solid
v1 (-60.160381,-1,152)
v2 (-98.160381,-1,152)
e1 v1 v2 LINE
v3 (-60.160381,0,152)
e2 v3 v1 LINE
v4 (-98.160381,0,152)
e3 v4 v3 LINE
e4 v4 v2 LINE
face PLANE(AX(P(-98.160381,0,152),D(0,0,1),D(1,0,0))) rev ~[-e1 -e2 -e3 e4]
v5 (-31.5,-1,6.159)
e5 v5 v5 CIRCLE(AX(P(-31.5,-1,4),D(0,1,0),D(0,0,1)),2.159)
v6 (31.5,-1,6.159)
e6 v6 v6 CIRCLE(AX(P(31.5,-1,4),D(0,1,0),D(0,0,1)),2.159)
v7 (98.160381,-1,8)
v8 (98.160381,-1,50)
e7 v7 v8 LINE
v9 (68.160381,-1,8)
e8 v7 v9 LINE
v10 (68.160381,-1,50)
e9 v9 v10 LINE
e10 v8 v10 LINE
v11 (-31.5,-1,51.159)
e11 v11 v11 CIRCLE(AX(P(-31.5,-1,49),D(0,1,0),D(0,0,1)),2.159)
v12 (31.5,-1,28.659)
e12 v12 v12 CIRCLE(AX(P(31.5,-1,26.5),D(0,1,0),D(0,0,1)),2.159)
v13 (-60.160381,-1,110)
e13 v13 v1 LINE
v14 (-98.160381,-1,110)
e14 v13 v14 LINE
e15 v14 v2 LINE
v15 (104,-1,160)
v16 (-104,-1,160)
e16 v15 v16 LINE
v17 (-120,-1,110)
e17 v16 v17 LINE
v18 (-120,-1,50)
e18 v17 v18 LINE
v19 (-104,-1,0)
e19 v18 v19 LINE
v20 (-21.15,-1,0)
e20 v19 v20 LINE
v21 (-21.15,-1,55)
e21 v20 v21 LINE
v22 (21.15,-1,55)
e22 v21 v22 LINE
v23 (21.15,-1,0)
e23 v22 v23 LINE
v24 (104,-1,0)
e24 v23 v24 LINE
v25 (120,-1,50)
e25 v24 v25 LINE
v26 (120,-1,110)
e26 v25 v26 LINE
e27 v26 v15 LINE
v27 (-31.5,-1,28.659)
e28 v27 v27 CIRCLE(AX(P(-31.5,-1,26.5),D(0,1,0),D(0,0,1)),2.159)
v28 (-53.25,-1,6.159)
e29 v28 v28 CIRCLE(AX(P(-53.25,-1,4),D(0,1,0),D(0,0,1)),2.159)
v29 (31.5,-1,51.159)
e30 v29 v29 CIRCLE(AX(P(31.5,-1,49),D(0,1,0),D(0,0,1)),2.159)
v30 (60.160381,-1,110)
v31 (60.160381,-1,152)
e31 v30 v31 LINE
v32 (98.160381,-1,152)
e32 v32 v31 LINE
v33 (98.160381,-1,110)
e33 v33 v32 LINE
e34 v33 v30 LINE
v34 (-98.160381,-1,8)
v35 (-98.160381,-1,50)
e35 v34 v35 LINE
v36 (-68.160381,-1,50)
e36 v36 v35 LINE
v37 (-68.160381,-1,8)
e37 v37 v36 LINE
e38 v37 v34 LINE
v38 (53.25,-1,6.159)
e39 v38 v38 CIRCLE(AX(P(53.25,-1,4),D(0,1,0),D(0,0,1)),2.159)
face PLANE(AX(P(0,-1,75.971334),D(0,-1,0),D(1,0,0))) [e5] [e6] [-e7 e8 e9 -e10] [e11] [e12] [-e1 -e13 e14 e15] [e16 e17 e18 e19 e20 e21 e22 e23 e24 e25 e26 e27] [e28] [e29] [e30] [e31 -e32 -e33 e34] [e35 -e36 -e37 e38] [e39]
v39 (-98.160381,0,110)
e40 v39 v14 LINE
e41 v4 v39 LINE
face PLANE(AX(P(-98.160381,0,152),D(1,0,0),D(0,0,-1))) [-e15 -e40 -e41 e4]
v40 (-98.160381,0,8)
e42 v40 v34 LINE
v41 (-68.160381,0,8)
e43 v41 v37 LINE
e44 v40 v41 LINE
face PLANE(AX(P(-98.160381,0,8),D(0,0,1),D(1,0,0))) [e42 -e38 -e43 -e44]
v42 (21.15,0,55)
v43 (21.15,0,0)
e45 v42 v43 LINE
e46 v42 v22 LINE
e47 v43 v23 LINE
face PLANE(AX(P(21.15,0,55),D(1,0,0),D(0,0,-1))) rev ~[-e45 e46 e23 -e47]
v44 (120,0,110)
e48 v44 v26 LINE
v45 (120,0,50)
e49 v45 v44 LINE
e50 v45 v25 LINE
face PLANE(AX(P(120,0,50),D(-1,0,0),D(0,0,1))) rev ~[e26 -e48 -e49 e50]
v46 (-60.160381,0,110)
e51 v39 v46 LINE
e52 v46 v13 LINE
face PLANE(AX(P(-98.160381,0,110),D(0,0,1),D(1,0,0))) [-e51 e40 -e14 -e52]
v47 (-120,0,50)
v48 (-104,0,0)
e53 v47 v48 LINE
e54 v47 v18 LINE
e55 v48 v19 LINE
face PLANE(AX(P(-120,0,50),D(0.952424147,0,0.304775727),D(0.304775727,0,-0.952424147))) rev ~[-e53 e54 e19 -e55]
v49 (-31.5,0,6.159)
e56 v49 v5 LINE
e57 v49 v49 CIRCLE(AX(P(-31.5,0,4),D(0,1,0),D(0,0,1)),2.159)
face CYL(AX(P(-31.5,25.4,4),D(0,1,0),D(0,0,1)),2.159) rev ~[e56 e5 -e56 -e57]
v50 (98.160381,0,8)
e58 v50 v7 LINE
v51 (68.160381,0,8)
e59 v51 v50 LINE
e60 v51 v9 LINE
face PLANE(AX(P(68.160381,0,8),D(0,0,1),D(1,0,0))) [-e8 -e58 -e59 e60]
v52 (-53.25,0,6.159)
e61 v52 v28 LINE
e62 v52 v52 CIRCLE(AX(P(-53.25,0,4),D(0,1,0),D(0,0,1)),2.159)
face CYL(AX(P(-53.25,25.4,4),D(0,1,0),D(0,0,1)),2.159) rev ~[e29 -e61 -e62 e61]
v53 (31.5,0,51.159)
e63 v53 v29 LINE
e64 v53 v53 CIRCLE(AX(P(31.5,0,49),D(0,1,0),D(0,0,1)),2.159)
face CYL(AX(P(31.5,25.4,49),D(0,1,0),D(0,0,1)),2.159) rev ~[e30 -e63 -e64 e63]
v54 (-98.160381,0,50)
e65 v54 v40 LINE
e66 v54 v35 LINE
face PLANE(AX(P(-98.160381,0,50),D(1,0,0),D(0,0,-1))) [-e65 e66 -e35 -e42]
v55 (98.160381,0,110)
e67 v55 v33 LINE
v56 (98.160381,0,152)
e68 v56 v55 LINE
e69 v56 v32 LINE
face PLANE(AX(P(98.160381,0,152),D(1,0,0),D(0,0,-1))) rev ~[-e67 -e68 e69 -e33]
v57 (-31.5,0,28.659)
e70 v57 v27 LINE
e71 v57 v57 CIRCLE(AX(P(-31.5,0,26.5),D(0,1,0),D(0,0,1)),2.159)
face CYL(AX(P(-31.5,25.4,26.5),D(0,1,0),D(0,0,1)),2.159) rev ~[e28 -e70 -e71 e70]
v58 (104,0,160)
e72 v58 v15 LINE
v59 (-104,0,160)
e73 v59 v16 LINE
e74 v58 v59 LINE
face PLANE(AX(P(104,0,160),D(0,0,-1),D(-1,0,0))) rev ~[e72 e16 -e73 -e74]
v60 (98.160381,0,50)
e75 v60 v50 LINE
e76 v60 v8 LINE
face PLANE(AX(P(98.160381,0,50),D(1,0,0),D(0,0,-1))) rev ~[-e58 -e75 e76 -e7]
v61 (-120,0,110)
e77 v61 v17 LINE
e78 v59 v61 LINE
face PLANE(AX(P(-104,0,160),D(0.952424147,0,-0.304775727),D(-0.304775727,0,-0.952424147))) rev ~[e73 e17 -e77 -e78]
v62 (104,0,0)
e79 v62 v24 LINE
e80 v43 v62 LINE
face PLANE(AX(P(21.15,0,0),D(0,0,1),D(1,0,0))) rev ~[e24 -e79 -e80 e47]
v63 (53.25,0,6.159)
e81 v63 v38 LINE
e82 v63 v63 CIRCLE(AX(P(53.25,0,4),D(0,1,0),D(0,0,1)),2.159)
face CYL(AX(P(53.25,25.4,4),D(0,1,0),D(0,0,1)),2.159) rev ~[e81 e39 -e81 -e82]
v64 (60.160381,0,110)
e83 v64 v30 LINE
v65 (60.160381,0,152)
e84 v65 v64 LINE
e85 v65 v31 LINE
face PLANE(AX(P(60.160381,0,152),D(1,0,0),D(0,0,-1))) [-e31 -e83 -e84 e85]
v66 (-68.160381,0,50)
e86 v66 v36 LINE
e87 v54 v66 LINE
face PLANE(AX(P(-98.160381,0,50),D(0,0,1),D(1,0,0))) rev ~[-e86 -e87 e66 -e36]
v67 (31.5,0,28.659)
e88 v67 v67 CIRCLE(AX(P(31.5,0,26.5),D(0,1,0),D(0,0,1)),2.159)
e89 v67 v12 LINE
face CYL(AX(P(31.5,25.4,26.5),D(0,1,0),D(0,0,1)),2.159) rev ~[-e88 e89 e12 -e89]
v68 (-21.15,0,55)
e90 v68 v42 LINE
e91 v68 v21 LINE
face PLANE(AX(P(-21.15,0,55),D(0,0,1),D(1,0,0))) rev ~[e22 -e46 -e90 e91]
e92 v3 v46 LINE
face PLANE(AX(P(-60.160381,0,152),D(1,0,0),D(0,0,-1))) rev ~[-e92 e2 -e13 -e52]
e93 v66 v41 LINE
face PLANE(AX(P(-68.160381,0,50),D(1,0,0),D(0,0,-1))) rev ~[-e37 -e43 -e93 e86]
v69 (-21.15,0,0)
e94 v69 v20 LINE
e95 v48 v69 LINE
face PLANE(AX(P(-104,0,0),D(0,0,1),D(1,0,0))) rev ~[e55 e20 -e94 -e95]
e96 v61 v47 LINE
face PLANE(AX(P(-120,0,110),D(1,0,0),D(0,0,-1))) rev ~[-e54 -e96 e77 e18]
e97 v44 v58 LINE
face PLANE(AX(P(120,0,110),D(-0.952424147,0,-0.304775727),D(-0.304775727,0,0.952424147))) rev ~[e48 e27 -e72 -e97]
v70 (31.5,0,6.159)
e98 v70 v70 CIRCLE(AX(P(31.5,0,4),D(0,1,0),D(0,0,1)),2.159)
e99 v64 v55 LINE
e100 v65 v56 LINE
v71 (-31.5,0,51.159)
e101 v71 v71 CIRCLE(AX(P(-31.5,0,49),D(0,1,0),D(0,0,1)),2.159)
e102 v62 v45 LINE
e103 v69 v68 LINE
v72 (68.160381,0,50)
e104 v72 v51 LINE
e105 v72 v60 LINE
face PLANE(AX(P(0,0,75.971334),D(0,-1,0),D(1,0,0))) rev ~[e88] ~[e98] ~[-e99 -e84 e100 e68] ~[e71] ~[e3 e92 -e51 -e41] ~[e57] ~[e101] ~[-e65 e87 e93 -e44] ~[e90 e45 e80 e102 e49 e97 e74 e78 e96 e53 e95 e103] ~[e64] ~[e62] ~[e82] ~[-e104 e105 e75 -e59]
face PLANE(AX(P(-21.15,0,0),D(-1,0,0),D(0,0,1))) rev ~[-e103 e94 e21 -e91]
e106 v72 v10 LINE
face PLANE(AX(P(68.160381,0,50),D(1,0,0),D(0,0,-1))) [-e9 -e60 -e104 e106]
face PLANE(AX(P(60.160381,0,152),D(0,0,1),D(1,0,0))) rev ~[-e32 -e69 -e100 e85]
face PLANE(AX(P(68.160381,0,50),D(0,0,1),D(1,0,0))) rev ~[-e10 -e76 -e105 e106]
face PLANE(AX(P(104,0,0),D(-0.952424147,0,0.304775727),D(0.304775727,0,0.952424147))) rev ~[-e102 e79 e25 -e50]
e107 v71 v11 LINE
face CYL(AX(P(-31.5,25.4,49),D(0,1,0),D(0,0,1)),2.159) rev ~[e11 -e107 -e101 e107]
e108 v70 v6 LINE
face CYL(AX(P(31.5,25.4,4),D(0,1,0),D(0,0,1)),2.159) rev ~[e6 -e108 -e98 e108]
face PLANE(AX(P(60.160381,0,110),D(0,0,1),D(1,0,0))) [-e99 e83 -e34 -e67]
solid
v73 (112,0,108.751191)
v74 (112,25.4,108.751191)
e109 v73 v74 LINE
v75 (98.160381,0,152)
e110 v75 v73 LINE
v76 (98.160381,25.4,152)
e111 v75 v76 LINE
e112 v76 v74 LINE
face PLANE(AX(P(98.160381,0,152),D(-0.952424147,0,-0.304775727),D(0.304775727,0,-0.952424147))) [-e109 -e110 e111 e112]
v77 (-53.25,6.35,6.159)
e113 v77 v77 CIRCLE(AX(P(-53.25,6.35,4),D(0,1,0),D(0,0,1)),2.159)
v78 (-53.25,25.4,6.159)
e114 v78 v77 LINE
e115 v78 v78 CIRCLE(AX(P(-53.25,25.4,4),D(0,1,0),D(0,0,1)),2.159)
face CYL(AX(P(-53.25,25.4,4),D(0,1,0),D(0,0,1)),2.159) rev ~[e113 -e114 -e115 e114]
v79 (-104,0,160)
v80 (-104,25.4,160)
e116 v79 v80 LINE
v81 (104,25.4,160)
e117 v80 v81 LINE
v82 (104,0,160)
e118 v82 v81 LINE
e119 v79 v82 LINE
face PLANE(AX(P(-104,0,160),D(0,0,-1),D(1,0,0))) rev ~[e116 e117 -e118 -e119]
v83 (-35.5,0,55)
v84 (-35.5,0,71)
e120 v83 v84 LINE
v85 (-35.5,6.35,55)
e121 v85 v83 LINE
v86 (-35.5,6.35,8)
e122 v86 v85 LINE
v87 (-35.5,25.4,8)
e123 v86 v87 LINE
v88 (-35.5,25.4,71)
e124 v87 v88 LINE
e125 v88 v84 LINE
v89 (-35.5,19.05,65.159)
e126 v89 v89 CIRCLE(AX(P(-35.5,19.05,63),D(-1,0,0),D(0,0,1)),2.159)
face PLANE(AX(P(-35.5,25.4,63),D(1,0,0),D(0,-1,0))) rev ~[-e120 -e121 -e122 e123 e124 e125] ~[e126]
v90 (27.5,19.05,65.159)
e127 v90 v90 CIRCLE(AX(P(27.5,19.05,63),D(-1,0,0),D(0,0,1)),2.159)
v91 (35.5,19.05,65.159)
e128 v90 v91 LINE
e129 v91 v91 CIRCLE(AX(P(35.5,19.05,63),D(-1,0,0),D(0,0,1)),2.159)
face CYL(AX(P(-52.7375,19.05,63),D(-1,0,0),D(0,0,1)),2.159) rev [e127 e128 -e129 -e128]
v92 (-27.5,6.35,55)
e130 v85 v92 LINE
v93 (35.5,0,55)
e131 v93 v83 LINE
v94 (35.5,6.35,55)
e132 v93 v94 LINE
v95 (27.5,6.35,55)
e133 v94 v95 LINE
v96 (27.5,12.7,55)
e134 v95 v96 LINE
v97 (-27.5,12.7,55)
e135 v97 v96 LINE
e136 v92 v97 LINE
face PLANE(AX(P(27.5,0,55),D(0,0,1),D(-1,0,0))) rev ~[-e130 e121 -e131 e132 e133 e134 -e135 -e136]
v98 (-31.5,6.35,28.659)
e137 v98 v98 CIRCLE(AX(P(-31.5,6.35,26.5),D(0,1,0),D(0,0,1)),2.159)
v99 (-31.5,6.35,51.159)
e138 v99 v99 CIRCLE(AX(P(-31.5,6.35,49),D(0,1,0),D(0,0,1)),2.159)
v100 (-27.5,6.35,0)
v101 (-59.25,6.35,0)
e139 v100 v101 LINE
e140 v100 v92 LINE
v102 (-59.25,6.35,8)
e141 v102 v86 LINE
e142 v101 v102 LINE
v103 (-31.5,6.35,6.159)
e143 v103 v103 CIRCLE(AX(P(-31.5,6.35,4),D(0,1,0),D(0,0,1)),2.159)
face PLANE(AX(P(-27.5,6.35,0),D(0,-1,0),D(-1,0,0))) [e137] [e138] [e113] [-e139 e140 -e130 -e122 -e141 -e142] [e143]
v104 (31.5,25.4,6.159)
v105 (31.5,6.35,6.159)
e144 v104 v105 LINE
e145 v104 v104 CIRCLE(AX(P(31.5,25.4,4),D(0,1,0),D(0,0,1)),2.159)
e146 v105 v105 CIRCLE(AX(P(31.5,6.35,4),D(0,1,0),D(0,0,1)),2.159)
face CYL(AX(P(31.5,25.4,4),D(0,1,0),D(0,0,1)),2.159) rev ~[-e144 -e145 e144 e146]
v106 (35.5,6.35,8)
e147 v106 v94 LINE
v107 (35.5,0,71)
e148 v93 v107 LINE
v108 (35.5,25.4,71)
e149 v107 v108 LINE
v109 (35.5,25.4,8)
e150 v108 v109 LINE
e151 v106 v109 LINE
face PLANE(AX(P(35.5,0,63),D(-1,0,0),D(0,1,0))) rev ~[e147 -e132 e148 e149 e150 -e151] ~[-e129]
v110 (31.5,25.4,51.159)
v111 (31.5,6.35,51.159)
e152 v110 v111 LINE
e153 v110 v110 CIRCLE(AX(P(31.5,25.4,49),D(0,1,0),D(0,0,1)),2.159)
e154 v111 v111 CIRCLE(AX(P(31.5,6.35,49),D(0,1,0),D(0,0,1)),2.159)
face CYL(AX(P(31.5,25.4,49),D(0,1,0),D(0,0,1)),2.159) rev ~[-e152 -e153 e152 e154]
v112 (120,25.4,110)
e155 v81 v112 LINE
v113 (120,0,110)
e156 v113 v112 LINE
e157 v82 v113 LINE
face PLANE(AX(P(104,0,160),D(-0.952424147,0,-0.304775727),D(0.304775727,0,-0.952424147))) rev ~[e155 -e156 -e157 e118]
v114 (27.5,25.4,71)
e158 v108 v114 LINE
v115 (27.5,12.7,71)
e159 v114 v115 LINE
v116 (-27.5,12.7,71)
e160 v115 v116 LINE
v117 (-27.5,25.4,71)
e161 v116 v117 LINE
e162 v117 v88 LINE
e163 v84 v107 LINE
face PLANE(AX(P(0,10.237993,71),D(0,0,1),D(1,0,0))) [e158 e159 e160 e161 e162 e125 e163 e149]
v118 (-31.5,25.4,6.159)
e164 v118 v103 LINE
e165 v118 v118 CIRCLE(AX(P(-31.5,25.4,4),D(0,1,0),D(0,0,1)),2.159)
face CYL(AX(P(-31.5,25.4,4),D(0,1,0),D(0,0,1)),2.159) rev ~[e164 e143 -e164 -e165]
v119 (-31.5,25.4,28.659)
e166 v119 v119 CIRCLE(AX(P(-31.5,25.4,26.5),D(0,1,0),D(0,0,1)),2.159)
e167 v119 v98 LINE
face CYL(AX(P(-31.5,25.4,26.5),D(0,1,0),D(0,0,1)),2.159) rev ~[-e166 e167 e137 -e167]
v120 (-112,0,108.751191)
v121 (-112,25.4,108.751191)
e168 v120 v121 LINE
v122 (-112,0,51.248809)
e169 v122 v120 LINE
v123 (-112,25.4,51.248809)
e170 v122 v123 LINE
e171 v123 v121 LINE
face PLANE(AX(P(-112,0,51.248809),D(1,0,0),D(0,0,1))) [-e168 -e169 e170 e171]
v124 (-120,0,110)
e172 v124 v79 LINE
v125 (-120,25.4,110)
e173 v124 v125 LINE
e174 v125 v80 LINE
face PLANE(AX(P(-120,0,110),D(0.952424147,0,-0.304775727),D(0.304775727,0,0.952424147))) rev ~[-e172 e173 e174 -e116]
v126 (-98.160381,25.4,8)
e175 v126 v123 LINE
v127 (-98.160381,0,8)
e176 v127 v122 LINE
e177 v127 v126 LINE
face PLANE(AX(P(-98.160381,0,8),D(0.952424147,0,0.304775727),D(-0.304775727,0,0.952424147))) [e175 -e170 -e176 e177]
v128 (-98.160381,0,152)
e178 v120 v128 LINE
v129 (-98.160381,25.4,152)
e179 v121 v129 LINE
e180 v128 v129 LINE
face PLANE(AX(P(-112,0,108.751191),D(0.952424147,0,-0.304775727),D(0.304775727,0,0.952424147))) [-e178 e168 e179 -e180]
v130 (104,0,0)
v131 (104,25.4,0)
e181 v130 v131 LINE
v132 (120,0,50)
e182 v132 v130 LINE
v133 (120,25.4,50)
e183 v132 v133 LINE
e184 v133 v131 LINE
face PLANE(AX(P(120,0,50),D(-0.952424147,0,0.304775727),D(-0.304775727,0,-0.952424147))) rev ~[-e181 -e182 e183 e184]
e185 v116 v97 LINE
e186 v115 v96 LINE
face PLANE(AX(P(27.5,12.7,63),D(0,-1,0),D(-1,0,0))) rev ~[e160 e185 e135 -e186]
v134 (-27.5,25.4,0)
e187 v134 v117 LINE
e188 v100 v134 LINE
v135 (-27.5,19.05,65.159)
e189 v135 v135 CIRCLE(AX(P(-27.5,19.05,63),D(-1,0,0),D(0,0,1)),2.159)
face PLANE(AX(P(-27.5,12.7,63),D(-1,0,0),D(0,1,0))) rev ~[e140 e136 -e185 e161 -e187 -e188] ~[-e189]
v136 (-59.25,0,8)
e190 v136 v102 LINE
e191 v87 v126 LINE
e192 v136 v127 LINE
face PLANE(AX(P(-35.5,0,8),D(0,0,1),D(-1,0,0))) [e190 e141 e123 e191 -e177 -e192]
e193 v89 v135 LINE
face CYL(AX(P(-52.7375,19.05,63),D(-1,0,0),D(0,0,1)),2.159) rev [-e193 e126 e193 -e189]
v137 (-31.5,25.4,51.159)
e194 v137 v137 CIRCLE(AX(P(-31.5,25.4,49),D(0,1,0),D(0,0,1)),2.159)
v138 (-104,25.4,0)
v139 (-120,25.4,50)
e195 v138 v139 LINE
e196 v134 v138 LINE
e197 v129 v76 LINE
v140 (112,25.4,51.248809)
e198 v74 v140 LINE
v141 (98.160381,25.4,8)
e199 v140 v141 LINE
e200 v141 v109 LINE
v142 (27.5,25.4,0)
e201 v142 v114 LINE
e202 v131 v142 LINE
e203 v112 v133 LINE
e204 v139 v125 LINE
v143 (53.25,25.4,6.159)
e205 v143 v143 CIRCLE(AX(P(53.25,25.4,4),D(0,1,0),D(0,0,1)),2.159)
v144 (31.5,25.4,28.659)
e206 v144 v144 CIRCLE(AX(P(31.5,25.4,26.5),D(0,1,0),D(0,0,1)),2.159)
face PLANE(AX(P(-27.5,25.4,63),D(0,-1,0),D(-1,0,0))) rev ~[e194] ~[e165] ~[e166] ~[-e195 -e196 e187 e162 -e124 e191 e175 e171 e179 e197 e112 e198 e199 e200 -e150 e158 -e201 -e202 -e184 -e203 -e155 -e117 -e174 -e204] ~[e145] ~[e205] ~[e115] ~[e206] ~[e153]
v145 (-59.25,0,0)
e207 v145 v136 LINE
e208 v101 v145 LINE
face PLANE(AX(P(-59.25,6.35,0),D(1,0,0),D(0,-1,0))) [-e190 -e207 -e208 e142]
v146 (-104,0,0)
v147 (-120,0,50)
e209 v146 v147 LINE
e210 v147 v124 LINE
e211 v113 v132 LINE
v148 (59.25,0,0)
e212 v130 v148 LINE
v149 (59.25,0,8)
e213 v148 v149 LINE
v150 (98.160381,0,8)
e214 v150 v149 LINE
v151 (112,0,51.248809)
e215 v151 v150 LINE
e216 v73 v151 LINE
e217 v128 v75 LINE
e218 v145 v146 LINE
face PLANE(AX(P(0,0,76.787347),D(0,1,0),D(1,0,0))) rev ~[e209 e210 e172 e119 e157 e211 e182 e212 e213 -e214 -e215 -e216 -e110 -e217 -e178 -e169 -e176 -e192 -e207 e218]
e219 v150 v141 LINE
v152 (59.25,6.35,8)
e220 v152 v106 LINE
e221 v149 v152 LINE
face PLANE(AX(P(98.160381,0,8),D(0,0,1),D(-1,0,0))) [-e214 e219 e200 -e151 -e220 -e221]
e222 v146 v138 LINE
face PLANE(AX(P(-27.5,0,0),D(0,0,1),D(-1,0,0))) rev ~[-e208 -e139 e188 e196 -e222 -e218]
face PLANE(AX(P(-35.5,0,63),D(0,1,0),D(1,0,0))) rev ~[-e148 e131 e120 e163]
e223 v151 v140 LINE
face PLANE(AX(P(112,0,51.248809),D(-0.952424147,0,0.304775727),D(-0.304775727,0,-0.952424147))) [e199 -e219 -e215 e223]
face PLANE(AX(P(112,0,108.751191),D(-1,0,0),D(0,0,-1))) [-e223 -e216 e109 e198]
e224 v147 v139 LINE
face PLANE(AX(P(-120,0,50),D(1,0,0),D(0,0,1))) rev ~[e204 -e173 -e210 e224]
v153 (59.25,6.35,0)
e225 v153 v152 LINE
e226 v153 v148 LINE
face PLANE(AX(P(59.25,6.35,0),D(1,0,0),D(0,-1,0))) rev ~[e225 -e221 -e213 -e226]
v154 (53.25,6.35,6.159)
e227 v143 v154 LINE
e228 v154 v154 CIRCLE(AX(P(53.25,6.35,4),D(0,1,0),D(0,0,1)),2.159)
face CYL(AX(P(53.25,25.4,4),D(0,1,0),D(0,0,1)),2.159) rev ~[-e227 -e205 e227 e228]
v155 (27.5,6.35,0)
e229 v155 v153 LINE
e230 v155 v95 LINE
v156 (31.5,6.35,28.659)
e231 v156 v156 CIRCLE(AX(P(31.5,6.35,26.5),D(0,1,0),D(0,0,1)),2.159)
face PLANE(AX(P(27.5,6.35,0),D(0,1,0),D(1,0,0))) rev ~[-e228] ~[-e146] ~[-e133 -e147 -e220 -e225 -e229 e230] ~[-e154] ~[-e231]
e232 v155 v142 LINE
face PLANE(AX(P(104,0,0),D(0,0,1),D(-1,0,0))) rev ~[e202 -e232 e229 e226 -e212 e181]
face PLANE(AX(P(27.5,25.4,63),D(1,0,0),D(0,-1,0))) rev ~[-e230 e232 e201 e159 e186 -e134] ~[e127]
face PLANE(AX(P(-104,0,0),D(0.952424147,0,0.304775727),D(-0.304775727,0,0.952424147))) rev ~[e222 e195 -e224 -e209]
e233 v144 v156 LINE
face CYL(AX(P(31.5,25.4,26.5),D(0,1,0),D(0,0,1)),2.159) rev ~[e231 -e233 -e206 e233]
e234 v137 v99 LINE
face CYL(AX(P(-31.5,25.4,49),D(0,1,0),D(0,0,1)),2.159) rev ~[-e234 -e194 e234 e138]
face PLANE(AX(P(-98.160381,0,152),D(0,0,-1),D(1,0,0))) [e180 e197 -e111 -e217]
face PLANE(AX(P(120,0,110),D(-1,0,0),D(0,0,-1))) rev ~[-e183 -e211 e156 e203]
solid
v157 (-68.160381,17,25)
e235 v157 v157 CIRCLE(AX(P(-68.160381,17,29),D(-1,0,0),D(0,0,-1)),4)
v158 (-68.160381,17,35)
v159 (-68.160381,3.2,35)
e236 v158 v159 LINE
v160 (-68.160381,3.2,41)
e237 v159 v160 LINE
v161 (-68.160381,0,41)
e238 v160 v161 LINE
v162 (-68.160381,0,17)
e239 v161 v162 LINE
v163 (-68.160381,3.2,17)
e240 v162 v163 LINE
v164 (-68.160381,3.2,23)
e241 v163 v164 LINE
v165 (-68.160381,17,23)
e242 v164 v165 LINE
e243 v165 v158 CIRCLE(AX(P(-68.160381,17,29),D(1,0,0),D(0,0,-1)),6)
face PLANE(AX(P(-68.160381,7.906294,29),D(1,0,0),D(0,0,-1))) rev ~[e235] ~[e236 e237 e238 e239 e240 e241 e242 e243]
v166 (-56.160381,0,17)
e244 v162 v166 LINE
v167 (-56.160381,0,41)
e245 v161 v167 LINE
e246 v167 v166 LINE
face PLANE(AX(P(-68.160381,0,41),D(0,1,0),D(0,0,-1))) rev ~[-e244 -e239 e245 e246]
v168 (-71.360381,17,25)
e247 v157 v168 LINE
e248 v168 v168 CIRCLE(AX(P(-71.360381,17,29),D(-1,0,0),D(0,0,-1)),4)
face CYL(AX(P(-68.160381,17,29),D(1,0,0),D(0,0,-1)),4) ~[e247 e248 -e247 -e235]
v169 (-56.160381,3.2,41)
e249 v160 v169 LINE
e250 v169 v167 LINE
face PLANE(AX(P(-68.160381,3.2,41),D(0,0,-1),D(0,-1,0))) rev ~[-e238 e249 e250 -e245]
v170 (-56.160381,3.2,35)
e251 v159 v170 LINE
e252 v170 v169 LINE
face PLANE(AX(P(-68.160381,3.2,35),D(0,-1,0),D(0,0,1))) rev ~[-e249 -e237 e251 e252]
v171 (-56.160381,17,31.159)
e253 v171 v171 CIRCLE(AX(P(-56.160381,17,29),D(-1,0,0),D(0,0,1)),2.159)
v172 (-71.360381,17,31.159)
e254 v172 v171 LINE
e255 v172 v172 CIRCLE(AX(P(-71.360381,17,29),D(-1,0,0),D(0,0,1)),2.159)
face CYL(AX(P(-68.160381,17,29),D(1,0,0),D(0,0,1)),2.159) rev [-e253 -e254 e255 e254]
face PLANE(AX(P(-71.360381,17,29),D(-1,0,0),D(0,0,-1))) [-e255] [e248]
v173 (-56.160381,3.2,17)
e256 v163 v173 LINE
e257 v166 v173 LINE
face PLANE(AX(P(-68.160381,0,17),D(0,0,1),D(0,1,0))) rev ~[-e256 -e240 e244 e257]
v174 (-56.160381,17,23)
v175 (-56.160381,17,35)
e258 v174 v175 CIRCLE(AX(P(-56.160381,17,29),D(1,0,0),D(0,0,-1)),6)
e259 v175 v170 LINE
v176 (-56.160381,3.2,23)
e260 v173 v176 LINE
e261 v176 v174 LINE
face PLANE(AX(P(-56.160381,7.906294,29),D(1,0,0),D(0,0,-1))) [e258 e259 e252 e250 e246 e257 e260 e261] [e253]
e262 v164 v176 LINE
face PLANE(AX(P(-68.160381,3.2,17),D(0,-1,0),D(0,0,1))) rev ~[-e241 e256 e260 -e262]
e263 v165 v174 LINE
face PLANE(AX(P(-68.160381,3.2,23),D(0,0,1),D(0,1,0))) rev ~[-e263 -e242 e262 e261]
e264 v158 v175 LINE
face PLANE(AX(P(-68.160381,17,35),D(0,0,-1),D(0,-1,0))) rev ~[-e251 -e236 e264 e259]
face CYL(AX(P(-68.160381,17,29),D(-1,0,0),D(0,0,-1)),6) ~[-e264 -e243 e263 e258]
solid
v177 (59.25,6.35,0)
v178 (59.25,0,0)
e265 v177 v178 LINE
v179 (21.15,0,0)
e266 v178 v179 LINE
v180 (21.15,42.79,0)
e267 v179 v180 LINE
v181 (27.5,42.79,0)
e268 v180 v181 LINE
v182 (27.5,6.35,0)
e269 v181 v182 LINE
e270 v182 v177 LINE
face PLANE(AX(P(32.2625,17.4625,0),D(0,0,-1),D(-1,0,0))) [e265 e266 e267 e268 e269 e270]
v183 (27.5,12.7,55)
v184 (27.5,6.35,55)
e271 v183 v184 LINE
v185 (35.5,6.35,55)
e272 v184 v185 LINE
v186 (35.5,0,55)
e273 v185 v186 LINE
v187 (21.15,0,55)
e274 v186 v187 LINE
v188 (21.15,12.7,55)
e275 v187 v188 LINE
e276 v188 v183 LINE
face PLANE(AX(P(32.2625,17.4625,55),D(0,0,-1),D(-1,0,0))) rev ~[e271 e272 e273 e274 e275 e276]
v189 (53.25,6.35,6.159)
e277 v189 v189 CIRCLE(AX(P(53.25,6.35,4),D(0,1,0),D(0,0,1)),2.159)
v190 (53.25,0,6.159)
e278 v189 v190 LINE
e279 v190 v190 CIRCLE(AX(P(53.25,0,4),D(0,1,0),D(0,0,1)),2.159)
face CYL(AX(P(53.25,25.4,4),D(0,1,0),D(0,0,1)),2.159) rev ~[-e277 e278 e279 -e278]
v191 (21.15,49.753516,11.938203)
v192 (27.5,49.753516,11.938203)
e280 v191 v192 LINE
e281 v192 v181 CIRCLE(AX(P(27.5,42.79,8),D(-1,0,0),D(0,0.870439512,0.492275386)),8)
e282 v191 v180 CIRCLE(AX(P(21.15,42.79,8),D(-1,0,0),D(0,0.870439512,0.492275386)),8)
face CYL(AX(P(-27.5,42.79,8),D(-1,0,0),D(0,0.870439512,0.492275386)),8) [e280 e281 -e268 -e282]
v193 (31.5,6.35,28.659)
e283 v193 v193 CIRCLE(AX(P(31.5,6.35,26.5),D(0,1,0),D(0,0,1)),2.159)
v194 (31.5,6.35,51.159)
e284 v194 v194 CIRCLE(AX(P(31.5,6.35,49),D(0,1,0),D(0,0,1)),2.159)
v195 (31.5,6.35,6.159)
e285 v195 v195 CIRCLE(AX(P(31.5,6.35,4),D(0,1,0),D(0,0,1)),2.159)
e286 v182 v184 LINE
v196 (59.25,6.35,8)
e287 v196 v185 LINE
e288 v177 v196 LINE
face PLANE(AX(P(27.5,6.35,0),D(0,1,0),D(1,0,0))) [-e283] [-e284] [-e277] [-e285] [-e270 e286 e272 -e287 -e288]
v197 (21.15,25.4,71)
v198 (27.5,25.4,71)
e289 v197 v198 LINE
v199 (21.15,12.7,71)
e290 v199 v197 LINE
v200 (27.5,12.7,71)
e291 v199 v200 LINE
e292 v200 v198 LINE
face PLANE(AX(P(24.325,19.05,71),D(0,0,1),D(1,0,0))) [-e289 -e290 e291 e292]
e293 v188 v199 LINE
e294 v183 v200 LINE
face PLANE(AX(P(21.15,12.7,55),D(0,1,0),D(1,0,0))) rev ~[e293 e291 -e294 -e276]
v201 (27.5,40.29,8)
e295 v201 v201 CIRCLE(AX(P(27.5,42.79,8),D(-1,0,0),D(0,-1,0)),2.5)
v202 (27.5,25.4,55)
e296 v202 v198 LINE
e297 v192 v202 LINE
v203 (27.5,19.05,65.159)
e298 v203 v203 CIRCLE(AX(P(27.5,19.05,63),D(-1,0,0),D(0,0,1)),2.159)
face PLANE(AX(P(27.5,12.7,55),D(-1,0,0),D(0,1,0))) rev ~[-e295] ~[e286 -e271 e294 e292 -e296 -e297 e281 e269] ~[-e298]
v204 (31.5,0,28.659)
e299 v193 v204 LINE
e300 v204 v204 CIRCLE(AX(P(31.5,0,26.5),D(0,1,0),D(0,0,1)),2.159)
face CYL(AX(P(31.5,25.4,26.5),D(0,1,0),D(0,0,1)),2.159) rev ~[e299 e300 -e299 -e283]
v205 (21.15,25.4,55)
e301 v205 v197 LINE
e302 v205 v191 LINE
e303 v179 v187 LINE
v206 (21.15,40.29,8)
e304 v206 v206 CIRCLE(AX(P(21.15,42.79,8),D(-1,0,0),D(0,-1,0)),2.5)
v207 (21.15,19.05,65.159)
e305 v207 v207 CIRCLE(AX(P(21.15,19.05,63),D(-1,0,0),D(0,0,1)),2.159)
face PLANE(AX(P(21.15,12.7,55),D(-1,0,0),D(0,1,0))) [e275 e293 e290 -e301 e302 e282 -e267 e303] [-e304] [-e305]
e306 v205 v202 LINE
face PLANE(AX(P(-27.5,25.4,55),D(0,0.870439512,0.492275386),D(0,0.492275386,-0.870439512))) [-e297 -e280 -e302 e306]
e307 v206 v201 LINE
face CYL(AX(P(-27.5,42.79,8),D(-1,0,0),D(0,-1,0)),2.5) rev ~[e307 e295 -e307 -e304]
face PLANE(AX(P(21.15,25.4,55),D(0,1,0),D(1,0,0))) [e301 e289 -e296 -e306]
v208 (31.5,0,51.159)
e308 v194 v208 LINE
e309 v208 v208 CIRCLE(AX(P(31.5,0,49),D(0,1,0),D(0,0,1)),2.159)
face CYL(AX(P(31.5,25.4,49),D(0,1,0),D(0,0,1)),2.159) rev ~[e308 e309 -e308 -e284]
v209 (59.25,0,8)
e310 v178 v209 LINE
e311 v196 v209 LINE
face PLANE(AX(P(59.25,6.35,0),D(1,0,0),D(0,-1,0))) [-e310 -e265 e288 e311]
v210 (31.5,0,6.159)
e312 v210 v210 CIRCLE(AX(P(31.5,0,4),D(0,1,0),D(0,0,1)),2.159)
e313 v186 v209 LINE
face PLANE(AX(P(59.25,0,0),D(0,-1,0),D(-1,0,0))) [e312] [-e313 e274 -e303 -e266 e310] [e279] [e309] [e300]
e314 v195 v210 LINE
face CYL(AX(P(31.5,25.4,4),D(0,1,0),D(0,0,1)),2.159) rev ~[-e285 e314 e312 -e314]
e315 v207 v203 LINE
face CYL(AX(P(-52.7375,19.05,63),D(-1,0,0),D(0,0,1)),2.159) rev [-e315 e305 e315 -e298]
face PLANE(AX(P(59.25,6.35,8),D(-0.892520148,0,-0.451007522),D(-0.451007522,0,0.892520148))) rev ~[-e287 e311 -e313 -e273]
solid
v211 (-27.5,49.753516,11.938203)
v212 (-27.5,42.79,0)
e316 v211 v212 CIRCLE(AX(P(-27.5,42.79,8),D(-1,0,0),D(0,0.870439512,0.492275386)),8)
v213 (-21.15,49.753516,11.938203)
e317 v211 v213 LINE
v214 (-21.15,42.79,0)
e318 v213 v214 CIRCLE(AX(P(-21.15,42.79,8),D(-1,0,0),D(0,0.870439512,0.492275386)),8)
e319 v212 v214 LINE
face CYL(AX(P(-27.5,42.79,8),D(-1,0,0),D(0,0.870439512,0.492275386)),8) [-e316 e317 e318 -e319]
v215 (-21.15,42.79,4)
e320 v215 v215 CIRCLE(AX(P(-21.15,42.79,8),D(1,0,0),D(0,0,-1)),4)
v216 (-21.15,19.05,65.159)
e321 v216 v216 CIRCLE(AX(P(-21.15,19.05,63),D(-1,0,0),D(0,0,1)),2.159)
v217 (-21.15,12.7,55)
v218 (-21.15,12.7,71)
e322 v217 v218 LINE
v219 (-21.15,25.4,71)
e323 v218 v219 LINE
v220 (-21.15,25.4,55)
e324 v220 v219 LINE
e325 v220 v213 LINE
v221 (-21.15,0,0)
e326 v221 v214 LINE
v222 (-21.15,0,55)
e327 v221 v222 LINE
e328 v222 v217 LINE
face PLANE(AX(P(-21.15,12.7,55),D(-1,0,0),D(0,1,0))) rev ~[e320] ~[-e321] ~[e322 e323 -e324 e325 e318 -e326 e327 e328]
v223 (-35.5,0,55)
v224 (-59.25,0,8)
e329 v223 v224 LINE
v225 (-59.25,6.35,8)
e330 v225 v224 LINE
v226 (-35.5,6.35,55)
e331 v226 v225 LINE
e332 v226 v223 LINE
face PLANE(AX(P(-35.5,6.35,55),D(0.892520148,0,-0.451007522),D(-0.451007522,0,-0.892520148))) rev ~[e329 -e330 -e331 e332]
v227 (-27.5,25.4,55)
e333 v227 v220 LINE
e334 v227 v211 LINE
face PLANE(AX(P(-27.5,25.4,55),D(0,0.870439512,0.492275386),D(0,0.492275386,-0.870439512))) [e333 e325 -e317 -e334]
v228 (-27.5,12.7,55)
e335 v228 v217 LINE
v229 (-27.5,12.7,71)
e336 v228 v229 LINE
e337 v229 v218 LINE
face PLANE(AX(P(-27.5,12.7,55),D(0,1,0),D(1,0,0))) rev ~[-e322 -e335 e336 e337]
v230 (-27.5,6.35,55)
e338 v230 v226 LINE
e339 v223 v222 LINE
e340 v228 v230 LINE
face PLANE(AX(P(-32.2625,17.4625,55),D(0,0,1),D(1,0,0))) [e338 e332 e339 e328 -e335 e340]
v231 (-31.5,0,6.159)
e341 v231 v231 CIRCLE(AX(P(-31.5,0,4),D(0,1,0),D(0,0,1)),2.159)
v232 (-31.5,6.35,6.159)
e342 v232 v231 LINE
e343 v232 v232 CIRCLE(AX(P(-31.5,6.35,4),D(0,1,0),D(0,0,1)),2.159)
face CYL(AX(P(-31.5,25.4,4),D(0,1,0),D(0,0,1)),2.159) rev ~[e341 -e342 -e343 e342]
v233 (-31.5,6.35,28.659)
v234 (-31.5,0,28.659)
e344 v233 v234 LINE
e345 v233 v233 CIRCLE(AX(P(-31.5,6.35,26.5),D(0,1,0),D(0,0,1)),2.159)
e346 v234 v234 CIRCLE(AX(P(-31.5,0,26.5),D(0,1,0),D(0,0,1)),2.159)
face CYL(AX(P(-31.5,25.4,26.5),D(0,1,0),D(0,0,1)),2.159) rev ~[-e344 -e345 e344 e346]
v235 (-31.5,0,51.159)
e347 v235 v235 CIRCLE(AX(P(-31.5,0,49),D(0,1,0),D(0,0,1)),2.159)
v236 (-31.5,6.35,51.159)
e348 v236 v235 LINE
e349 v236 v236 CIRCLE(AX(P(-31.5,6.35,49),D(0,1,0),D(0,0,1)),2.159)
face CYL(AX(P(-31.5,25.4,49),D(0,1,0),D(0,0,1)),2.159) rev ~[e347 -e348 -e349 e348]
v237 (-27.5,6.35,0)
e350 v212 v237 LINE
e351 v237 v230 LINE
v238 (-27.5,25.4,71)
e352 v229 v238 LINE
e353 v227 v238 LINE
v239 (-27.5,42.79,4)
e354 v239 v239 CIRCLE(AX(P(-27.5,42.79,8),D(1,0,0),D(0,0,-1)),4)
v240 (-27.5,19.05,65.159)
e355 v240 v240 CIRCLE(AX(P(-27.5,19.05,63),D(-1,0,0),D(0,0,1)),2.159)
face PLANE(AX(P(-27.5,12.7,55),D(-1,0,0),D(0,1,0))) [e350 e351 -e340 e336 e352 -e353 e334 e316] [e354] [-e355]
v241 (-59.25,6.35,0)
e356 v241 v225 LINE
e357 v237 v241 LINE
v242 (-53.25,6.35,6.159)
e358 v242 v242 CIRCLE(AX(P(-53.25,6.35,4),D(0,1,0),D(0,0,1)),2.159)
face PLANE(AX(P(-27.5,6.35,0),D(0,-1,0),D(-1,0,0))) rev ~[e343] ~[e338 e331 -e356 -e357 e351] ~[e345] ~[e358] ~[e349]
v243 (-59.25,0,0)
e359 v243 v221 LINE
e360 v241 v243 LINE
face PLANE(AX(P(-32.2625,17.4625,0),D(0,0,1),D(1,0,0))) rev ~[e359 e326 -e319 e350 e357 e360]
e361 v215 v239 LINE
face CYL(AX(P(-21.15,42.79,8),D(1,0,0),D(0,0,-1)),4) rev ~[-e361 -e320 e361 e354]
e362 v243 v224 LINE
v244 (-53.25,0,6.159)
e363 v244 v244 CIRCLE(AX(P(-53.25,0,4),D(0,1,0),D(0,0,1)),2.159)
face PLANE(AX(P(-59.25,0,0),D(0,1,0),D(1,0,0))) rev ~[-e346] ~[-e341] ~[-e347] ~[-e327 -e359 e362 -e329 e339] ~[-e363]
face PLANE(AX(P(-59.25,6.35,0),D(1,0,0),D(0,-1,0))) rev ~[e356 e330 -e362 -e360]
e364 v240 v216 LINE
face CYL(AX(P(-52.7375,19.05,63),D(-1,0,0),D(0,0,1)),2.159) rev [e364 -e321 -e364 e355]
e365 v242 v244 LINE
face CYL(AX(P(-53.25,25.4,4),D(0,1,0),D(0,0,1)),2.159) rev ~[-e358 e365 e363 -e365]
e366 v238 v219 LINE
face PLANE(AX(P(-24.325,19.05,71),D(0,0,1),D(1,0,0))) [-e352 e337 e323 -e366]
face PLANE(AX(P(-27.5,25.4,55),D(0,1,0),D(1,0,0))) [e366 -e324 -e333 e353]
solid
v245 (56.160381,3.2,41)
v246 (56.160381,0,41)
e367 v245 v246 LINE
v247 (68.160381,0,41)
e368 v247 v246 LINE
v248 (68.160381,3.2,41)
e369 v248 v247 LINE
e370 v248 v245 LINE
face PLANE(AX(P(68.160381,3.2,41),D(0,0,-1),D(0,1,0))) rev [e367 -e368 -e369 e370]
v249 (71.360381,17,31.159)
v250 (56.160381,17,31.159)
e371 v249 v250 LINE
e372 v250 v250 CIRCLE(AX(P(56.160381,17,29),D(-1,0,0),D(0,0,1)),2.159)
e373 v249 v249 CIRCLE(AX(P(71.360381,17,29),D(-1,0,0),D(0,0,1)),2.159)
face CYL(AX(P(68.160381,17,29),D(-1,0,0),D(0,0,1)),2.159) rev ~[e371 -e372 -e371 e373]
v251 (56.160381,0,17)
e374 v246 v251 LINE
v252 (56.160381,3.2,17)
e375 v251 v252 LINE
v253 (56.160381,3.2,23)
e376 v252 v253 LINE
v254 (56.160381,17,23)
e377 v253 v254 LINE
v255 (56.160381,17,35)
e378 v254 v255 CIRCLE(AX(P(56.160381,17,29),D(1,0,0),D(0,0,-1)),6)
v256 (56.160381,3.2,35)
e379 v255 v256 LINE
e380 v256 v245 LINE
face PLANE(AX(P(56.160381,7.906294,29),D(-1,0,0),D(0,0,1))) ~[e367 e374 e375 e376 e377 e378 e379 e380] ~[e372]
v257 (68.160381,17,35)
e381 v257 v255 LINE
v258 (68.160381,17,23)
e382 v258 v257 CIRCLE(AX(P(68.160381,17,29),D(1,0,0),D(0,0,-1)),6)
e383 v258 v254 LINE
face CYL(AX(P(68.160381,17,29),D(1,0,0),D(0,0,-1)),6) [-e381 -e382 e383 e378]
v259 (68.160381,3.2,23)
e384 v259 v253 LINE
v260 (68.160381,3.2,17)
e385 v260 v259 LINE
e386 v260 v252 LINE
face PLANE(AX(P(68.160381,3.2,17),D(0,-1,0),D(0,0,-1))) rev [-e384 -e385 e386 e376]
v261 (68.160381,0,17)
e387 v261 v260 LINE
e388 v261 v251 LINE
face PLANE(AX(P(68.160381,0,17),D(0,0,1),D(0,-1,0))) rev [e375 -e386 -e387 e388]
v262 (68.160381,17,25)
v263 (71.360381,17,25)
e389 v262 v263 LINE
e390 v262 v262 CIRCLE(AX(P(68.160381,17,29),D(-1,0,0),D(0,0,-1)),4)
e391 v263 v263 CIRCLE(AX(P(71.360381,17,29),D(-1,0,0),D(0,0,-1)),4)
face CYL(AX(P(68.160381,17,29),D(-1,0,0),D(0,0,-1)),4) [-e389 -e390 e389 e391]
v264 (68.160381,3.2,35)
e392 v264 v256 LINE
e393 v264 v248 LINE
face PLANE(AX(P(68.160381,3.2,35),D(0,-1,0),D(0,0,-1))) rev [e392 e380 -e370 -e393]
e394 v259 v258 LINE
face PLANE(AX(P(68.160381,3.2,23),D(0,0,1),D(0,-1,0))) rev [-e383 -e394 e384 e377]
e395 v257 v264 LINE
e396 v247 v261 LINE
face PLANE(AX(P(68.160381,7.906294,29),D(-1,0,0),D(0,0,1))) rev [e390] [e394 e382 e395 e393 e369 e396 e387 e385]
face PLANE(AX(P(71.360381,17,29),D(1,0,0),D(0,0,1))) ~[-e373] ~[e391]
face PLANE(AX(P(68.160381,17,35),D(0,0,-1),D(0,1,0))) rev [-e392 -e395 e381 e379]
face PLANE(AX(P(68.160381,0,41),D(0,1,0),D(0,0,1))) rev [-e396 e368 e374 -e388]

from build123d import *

# Parameters (mm, degrees)
EXTRUDE_THIN1_DEPTH      = 25.4
CUT_EXTRUDE17_REACH      = 203.606
BOSS_EXTRUDE3_DEPTH      = 55
BOSS_EXTRUDE3_2_DEPTH    = 55
CUT_EXTRUDE18_DEPTH      = 205.879970959
SKETCH21_R               = 2.5
CUT_EXTRUDE20_DEPTH      = 224.465634942
SKETCH22_W               = 55
SKETCH22_H               = 8
CUT_EXTRUDE21_DEPTH      = 12.7
BOSS_EXTRUDE4_DEPTH      = 8
SKETCH24_W               = 6.35
SKETCH24_H               = 12.7
BOSS_EXTRUDE5_DEPTH      = 16
BOSS_EXTRUDE6_DEPTH      = 1
SKETCH26_R               = 4
CUT_EXTRUDE22_DEPTH      = 220.323839562
CUT_EXTRUDE23_DEPTH      = 61.5875
CUT_EXTRUDE23_DEPTH_BACK = 31.5875
SKETCH27_R               = 2.159
SKETCH28_W               = 30
SKETCH28_H               = 42
SKETCH28_W_2             = 38
CUT_EXTRUDE24_DEPTH      = 31.5875
SKETCH29_R               = 2.159
CUT_EXTRUDE25_DEPTH      = 31.5875
SKETCH30_R               = 2.159
BOSS_EXTRUDE7_DEPTH      = 12
SKETCH33_R               = 4
SKETCH33_R_2             = 2.159
BOSS_EXTRUDE9_DEPTH      = 3.2


with BuildPart() as part:
    # Sketch1 → Extrude-Thin1 (new body)
    with BuildSketch(Plane(origin=(0, 0, 0), x_dir=(1, 0, 0), z_dir=(0, 1, 0))):
        Polygon((-27.5, -55), (-27.5, 0), (-104, 0), (-120, -50), (-120, -110), (-104, -160), (104, -160), (120, -110), (120, -50), (104, 0), (27.5, 0), (27.5, -55), align=None)
        Polygon((-35.5, -63), (-35.5, -8), (-98.160380961, -8), (-112, -51.248809497), (-112, -108.751190503), (-98.160380961, -152), (98.160380961, -152), (112, -108.751190503), (112, -51.248809497), (98.160380961, -8), (35.5, -8), (35.5, -63), align=None, mode=Mode.SUBTRACT)
    extrude(amount=EXTRUDE_THIN1_DEPTH)

    # Cut-Extrude17: up to this face of the body (flat: up to its plane)
    cut_extrude17_end = Plane(part.part.faces().sort_by_distance((0, 12.7, 55))[0])
    # Sketch19 → Cut-Extrude17 (cut, up to the picked face)
    with BuildSketch(Plane(origin=(0, 0, 0), x_dir=(-1, 0, 0), z_dir=(0, 0, -1)), mode=Mode.PRIVATE) as cut_extrude17_sk1:
        Polygon((-21.15, 0), (-21.15, 50.8), (-27.5, 50.8), (-27.5, 6.35), (-59.25, 6.35), (-59.25, 0), align=None)
    cut_extrude17_tool1 = split(extrude(cut_extrude17_sk1.sketch, amount=-CUT_EXTRUDE17_REACH, mode=Mode.PRIVATE), bisect_by=cut_extrude17_end, keep=Keep.BOTH, mode=Mode.PRIVATE)
    # Sketch19 → Cut-Extrude17 (cut, up to the picked face)
    with BuildSketch(Plane(origin=(0, 0, 0), x_dir=(-1, 0, 0), z_dir=(0, 0, -1)), mode=Mode.PRIVATE) as cut_extrude17_sk2:
        Polygon((59.25, 0), (21.15, 0), (21.15, 50.8), (27.5, 50.8), (27.5, 6.35), (59.25, 6.35), align=None)
    cut_extrude17_tool2 = split(extrude(cut_extrude17_sk2.sketch, amount=-CUT_EXTRUDE17_REACH, mode=Mode.PRIVATE), bisect_by=cut_extrude17_end, keep=Keep.BOTH, mode=Mode.PRIVATE)
    add(cut_extrude17_tool1.solids().sort_by(Axis((21.785, 25.4, 0), (0, 0, 1)))[0], mode=Mode.SUBTRACT)
    add(cut_extrude17_tool2.solids().sort_by(Axis((-40.2, 0.635, 0), (0, 0, 1)))[0], mode=Mode.SUBTRACT)

    # Sketch22 → Cut-Extrude21 (cut)
    with BuildSketch(Plane(origin=(0, 25.4, 0), x_dir=(1, 0, 0), z_dir=(0, 1, 0))):
        with Locations((0, -59)):
            Rectangle(SKETCH22_W, SKETCH22_H)
    extrude(amount=-CUT_EXTRUDE21_DEPTH, mode=Mode.SUBTRACT)

    # Sketch23 → Boss-Extrude4 (add)
    with BuildSketch(Plane.XY.offset(63)):
        Polygon((-27.5, 12.7), (-27.5, 25.4), (-35.5, 25.4), (-35.5, 0), (35.5, 0), (35.5, 25.4), (27.5, 25.4), (27.5, 12.7), align=None)
    extrude(amount=BOSS_EXTRUDE4_DEPTH)


with BuildPart() as body_2:
    # Sketch19<2> → Boss-Extrude3 (new body)
    with BuildSketch(Plane(origin=(0, 0, 0), x_dir=(-1, 0, 0), z_dir=(0, 0, -1))):
        Polygon((-21.15, 0), (-21.15, 50.8), (-27.5, 50.8), (-27.5, 6.35), (-59.25, 6.35), (-59.25, 0), align=None)
    extrude(amount=-BOSS_EXTRUDE3_DEPTH)


with BuildPart() as body_3:
    # Sketch19<2> → Boss-Extrude3 2 (new body)
    with BuildSketch(Plane(origin=(0, 0, 0), x_dir=(-1, 0, 0), z_dir=(0, 0, -1))):
        Polygon((59.25, 0), (21.15, 0), (21.15, 50.8), (27.5, 50.8), (27.5, 6.35), (59.25, 6.35), align=None)
    extrude(amount=-BOSS_EXTRUDE3_2_DEPTH)


with BuildPart() as cut_extrude18_tool:
    # Sketch20 → Cut-Extrude18 (new, through all)
    with BuildSketch(Plane(origin=(0, 6.35, 0), x_dir=(1, 0, 0), z_dir=(0, 1, 0))):
        Polygon((59.25, -8), (35.5, -55), (59.25, -55), align=None)
        Polygon((-35.5, -55), (-59.25, -8), (-59.25, -55), align=None)
    extrude(amount=-CUT_EXTRUDE18_DEPTH)


with BuildPart() as body_2_1:
    add(body_2.part)

    # Cut-Extrude18: cut by cut_extrude18_tool
    add(cut_extrude18_tool.part, mode=Mode.SUBTRACT)


with BuildPart() as body_3_1:
    add(body_3.part)

    # Cut-Extrude18: cut by cut_extrude18_tool
    add(cut_extrude18_tool.part, mode=Mode.SUBTRACT)


with BuildPart() as cut_extrude20_tool:
    # Sketch21 → Cut-Extrude20 (new, through all)
    with BuildSketch(Plane.ZY.offset(27.5)):
        with Locations(Location((8, 42.79, 0), (0, 0, 270))):
            Circle(SKETCH21_R)
        with BuildLine():
            Line((55, 25.4), (11.938203084, 49.753516099))
            ThreePointArc((11.938203084, 49.753516099), (3.969219969, 49.700340971), (0, 42.79))
            Line((0, 42.79), (0, 58.907178906))
            Line((0, 58.907178906), (55, 58.907178906))
            Line((55, 58.907178906), (55, 25.4))
        make_face()
    extrude(amount=-CUT_EXTRUDE20_DEPTH)


with BuildPart() as body_2_2:
    add(body_2_1.part)

    # Cut-Extrude20: cut by cut_extrude20_tool
    add(cut_extrude20_tool.part, mode=Mode.SUBTRACT)


with BuildPart() as body_3_2:
    add(body_3_1.part)

    # Cut-Extrude20: cut by cut_extrude20_tool
    add(cut_extrude20_tool.part, mode=Mode.SUBTRACT)


    add(body_2_2.part)  # Boss-Extrude5 merges body 2
    # Sketch24 → Boss-Extrude5 (add)
    with BuildSketch(Plane.XY.offset(55)):
        with Locations((-24.325, 19.05)):
            Rectangle(SKETCH24_W, SKETCH24_H)
        with Locations((24.325, 19.05)):
            Rectangle(SKETCH24_W, SKETCH24_H)
    extrude(amount=BOSS_EXTRUDE5_DEPTH)

    # Sketch26 → Cut-Extrude22 (cut, through all)
    with BuildSketch(Plane(origin=(-21.15, 0, 0), x_dir=(0, 0, -1), z_dir=(1, 0, 0))):
        with Locations((-8, 42.79)):
            Circle(SKETCH26_R)
    extrude(amount=-CUT_EXTRUDE22_DEPTH, mode=Mode.SUBTRACT)


with BuildPart() as body_3_2_1:
    # Sketch25 → Boss-Extrude6 (new body)
    with BuildSketch(Plane.XZ):
        Polygon((-104, 0), (-21.15, 0), (-21.15, 55), (21.15, 55), (21.15, 0), (104, 0), (120, 50), (120, 110), (104, 160), (-104, 160), (-120, 110), (-120, 50), align=None)
    extrude(amount=BOSS_EXTRUDE6_DEPTH)

    # Sketch28 → Cut-Extrude24 (cut)
    with BuildSketch(Plane(origin=(0, 0, 0), x_dir=(1, 0, 0), z_dir=(0, 1, 0))):
        with Locations((-83.160380961, -29)):
            Rectangle(SKETCH28_W, SKETCH28_H)
        with Locations((-79.160380961, -131)):
            Rectangle(SKETCH28_W_2, SKETCH28_H)
        with Locations((79.160380961, -131)):
            Rectangle(SKETCH28_W_2, SKETCH28_H)
        with Locations((83.160380961, -29)):
            Rectangle(SKETCH28_W, SKETCH28_H)
    extrude(amount=-CUT_EXTRUDE24_DEPTH, mode=Mode.SUBTRACT)


with BuildPart() as cut_extrude23_tool:
    # Sketch27 → Cut-Extrude23 (new, two sides: drawn at the far end of the back side and taken through both)
    with BuildSketch(Plane(origin=(-21.15, 0, 0), x_dir=(0, 0, -1), z_dir=(1, 0, 0)).offset(-CUT_EXTRUDE23_DEPTH_BACK)):
        with Locations(Location((-63, 19.05, 0), (0, 0, 180))):
            Circle(SKETCH27_R)
    extrude(amount=CUT_EXTRUDE23_DEPTH + CUT_EXTRUDE23_DEPTH_BACK)


with BuildPart() as part_1:
    add(part.part)

    # Cut-Extrude23: cut by cut_extrude23_tool
    add(cut_extrude23_tool.part, mode=Mode.SUBTRACT)


with BuildPart() as body_3_3:
    add(body_3_2.part)

    # Cut-Extrude23: cut by cut_extrude23_tool
    add(cut_extrude23_tool.part, mode=Mode.SUBTRACT)


with BuildPart() as cut_extrude25_tool:
    # Sketch29 → Cut-Extrude25 (new body)
    with BuildSketch(Plane(origin=(0, 25.4, 0), x_dir=(1, 0, 0), z_dir=(0, 1, 0))):
        with Locations(Location((-31.5, -49, 0), (0, 0, 270))):
            Circle(SKETCH29_R)
        with Locations(Location((-31.5, -26.5, 0), (0, 0, 270))):
            Circle(SKETCH29_R)
        with Locations(Location((-31.5, -4, 0), (0, 0, 270))):
            Circle(SKETCH29_R)
        with Locations(Location((-53.25, -4, 0), (0, 0, 270))):
            Circle(SKETCH29_R)
        with Locations(Location((53.25, -4, 0), (0, 0, 270))):
            Circle(SKETCH29_R)
        with Locations(Location((31.5, -4, 0), (0, 0, 270))):
            Circle(SKETCH29_R)
        with Locations(Location((31.5, -26.5, 0), (0, 0, 270))):
            Circle(SKETCH29_R)
        with Locations(Location((31.5, -49, 0), (0, 0, 270))):
            Circle(SKETCH29_R)
    extrude(amount=-CUT_EXTRUDE25_DEPTH)


with BuildPart() as part_2:
    add(part_1.part)

    # Cut-Extrude25: cut by cut_extrude25_tool
    add(cut_extrude25_tool.part, mode=Mode.SUBTRACT)


with BuildPart() as body_3_4:
    add(body_3_3.part)

    # Cut-Extrude25: cut by cut_extrude25_tool
    add(cut_extrude25_tool.part, mode=Mode.SUBTRACT)


with BuildPart() as body_3_2_2:
    add(body_3_2_1.part)

    # Cut-Extrude25: cut by cut_extrude25_tool
    add(cut_extrude25_tool.part, mode=Mode.SUBTRACT)


with BuildPart() as body_4:
    # Sketch30 → Boss-Extrude7 (new body)
    with BuildSketch(Plane.ZY.offset(68.160380961)):
        with BuildLine():
            Line((41, 0), (17, 0))
            Line((17, 0), (17, 3.2))
            Line((17, 3.2), (23, 3.2))
            Line((23, 3.2), (23, 17))
            ThreePointArc((23, 17), (29, 23), (35, 17))
            Line((35, 17), (35, 3.2))
            Line((35, 3.2), (41, 3.2))
            Line((41, 3.2), (41, 0))
        make_face()
        with Locations((29, 17)):
            Circle(SKETCH30_R, mode=Mode.SUBTRACT)
    extrude(amount=-BOSS_EXTRUDE7_DEPTH)

    # Sketch33 → Boss-Extrude9 (add)
    with BuildSketch(Plane.ZY.offset(68.160380961)):
        with Locations(Location((29, 17, 0), (0, 0, 180))):
            Circle(SKETCH33_R)
        with Locations((29, 17)):
            Circle(SKETCH33_R_2, mode=Mode.SUBTRACT)
    extrude(amount=BOSS_EXTRUDE9_DEPTH)


with BuildPart() as body_5:
    # Mirror2: mirrored copy
    add(body_4.part.mirror(Plane(origin=(0, 0, 0), x_dir=(0, 0, 1), z_dir=(1, 0, 0))))


solid = Compound([part_2.part, body_3_4.part, body_3_2_2.part, body_4.part, body_5.part])
